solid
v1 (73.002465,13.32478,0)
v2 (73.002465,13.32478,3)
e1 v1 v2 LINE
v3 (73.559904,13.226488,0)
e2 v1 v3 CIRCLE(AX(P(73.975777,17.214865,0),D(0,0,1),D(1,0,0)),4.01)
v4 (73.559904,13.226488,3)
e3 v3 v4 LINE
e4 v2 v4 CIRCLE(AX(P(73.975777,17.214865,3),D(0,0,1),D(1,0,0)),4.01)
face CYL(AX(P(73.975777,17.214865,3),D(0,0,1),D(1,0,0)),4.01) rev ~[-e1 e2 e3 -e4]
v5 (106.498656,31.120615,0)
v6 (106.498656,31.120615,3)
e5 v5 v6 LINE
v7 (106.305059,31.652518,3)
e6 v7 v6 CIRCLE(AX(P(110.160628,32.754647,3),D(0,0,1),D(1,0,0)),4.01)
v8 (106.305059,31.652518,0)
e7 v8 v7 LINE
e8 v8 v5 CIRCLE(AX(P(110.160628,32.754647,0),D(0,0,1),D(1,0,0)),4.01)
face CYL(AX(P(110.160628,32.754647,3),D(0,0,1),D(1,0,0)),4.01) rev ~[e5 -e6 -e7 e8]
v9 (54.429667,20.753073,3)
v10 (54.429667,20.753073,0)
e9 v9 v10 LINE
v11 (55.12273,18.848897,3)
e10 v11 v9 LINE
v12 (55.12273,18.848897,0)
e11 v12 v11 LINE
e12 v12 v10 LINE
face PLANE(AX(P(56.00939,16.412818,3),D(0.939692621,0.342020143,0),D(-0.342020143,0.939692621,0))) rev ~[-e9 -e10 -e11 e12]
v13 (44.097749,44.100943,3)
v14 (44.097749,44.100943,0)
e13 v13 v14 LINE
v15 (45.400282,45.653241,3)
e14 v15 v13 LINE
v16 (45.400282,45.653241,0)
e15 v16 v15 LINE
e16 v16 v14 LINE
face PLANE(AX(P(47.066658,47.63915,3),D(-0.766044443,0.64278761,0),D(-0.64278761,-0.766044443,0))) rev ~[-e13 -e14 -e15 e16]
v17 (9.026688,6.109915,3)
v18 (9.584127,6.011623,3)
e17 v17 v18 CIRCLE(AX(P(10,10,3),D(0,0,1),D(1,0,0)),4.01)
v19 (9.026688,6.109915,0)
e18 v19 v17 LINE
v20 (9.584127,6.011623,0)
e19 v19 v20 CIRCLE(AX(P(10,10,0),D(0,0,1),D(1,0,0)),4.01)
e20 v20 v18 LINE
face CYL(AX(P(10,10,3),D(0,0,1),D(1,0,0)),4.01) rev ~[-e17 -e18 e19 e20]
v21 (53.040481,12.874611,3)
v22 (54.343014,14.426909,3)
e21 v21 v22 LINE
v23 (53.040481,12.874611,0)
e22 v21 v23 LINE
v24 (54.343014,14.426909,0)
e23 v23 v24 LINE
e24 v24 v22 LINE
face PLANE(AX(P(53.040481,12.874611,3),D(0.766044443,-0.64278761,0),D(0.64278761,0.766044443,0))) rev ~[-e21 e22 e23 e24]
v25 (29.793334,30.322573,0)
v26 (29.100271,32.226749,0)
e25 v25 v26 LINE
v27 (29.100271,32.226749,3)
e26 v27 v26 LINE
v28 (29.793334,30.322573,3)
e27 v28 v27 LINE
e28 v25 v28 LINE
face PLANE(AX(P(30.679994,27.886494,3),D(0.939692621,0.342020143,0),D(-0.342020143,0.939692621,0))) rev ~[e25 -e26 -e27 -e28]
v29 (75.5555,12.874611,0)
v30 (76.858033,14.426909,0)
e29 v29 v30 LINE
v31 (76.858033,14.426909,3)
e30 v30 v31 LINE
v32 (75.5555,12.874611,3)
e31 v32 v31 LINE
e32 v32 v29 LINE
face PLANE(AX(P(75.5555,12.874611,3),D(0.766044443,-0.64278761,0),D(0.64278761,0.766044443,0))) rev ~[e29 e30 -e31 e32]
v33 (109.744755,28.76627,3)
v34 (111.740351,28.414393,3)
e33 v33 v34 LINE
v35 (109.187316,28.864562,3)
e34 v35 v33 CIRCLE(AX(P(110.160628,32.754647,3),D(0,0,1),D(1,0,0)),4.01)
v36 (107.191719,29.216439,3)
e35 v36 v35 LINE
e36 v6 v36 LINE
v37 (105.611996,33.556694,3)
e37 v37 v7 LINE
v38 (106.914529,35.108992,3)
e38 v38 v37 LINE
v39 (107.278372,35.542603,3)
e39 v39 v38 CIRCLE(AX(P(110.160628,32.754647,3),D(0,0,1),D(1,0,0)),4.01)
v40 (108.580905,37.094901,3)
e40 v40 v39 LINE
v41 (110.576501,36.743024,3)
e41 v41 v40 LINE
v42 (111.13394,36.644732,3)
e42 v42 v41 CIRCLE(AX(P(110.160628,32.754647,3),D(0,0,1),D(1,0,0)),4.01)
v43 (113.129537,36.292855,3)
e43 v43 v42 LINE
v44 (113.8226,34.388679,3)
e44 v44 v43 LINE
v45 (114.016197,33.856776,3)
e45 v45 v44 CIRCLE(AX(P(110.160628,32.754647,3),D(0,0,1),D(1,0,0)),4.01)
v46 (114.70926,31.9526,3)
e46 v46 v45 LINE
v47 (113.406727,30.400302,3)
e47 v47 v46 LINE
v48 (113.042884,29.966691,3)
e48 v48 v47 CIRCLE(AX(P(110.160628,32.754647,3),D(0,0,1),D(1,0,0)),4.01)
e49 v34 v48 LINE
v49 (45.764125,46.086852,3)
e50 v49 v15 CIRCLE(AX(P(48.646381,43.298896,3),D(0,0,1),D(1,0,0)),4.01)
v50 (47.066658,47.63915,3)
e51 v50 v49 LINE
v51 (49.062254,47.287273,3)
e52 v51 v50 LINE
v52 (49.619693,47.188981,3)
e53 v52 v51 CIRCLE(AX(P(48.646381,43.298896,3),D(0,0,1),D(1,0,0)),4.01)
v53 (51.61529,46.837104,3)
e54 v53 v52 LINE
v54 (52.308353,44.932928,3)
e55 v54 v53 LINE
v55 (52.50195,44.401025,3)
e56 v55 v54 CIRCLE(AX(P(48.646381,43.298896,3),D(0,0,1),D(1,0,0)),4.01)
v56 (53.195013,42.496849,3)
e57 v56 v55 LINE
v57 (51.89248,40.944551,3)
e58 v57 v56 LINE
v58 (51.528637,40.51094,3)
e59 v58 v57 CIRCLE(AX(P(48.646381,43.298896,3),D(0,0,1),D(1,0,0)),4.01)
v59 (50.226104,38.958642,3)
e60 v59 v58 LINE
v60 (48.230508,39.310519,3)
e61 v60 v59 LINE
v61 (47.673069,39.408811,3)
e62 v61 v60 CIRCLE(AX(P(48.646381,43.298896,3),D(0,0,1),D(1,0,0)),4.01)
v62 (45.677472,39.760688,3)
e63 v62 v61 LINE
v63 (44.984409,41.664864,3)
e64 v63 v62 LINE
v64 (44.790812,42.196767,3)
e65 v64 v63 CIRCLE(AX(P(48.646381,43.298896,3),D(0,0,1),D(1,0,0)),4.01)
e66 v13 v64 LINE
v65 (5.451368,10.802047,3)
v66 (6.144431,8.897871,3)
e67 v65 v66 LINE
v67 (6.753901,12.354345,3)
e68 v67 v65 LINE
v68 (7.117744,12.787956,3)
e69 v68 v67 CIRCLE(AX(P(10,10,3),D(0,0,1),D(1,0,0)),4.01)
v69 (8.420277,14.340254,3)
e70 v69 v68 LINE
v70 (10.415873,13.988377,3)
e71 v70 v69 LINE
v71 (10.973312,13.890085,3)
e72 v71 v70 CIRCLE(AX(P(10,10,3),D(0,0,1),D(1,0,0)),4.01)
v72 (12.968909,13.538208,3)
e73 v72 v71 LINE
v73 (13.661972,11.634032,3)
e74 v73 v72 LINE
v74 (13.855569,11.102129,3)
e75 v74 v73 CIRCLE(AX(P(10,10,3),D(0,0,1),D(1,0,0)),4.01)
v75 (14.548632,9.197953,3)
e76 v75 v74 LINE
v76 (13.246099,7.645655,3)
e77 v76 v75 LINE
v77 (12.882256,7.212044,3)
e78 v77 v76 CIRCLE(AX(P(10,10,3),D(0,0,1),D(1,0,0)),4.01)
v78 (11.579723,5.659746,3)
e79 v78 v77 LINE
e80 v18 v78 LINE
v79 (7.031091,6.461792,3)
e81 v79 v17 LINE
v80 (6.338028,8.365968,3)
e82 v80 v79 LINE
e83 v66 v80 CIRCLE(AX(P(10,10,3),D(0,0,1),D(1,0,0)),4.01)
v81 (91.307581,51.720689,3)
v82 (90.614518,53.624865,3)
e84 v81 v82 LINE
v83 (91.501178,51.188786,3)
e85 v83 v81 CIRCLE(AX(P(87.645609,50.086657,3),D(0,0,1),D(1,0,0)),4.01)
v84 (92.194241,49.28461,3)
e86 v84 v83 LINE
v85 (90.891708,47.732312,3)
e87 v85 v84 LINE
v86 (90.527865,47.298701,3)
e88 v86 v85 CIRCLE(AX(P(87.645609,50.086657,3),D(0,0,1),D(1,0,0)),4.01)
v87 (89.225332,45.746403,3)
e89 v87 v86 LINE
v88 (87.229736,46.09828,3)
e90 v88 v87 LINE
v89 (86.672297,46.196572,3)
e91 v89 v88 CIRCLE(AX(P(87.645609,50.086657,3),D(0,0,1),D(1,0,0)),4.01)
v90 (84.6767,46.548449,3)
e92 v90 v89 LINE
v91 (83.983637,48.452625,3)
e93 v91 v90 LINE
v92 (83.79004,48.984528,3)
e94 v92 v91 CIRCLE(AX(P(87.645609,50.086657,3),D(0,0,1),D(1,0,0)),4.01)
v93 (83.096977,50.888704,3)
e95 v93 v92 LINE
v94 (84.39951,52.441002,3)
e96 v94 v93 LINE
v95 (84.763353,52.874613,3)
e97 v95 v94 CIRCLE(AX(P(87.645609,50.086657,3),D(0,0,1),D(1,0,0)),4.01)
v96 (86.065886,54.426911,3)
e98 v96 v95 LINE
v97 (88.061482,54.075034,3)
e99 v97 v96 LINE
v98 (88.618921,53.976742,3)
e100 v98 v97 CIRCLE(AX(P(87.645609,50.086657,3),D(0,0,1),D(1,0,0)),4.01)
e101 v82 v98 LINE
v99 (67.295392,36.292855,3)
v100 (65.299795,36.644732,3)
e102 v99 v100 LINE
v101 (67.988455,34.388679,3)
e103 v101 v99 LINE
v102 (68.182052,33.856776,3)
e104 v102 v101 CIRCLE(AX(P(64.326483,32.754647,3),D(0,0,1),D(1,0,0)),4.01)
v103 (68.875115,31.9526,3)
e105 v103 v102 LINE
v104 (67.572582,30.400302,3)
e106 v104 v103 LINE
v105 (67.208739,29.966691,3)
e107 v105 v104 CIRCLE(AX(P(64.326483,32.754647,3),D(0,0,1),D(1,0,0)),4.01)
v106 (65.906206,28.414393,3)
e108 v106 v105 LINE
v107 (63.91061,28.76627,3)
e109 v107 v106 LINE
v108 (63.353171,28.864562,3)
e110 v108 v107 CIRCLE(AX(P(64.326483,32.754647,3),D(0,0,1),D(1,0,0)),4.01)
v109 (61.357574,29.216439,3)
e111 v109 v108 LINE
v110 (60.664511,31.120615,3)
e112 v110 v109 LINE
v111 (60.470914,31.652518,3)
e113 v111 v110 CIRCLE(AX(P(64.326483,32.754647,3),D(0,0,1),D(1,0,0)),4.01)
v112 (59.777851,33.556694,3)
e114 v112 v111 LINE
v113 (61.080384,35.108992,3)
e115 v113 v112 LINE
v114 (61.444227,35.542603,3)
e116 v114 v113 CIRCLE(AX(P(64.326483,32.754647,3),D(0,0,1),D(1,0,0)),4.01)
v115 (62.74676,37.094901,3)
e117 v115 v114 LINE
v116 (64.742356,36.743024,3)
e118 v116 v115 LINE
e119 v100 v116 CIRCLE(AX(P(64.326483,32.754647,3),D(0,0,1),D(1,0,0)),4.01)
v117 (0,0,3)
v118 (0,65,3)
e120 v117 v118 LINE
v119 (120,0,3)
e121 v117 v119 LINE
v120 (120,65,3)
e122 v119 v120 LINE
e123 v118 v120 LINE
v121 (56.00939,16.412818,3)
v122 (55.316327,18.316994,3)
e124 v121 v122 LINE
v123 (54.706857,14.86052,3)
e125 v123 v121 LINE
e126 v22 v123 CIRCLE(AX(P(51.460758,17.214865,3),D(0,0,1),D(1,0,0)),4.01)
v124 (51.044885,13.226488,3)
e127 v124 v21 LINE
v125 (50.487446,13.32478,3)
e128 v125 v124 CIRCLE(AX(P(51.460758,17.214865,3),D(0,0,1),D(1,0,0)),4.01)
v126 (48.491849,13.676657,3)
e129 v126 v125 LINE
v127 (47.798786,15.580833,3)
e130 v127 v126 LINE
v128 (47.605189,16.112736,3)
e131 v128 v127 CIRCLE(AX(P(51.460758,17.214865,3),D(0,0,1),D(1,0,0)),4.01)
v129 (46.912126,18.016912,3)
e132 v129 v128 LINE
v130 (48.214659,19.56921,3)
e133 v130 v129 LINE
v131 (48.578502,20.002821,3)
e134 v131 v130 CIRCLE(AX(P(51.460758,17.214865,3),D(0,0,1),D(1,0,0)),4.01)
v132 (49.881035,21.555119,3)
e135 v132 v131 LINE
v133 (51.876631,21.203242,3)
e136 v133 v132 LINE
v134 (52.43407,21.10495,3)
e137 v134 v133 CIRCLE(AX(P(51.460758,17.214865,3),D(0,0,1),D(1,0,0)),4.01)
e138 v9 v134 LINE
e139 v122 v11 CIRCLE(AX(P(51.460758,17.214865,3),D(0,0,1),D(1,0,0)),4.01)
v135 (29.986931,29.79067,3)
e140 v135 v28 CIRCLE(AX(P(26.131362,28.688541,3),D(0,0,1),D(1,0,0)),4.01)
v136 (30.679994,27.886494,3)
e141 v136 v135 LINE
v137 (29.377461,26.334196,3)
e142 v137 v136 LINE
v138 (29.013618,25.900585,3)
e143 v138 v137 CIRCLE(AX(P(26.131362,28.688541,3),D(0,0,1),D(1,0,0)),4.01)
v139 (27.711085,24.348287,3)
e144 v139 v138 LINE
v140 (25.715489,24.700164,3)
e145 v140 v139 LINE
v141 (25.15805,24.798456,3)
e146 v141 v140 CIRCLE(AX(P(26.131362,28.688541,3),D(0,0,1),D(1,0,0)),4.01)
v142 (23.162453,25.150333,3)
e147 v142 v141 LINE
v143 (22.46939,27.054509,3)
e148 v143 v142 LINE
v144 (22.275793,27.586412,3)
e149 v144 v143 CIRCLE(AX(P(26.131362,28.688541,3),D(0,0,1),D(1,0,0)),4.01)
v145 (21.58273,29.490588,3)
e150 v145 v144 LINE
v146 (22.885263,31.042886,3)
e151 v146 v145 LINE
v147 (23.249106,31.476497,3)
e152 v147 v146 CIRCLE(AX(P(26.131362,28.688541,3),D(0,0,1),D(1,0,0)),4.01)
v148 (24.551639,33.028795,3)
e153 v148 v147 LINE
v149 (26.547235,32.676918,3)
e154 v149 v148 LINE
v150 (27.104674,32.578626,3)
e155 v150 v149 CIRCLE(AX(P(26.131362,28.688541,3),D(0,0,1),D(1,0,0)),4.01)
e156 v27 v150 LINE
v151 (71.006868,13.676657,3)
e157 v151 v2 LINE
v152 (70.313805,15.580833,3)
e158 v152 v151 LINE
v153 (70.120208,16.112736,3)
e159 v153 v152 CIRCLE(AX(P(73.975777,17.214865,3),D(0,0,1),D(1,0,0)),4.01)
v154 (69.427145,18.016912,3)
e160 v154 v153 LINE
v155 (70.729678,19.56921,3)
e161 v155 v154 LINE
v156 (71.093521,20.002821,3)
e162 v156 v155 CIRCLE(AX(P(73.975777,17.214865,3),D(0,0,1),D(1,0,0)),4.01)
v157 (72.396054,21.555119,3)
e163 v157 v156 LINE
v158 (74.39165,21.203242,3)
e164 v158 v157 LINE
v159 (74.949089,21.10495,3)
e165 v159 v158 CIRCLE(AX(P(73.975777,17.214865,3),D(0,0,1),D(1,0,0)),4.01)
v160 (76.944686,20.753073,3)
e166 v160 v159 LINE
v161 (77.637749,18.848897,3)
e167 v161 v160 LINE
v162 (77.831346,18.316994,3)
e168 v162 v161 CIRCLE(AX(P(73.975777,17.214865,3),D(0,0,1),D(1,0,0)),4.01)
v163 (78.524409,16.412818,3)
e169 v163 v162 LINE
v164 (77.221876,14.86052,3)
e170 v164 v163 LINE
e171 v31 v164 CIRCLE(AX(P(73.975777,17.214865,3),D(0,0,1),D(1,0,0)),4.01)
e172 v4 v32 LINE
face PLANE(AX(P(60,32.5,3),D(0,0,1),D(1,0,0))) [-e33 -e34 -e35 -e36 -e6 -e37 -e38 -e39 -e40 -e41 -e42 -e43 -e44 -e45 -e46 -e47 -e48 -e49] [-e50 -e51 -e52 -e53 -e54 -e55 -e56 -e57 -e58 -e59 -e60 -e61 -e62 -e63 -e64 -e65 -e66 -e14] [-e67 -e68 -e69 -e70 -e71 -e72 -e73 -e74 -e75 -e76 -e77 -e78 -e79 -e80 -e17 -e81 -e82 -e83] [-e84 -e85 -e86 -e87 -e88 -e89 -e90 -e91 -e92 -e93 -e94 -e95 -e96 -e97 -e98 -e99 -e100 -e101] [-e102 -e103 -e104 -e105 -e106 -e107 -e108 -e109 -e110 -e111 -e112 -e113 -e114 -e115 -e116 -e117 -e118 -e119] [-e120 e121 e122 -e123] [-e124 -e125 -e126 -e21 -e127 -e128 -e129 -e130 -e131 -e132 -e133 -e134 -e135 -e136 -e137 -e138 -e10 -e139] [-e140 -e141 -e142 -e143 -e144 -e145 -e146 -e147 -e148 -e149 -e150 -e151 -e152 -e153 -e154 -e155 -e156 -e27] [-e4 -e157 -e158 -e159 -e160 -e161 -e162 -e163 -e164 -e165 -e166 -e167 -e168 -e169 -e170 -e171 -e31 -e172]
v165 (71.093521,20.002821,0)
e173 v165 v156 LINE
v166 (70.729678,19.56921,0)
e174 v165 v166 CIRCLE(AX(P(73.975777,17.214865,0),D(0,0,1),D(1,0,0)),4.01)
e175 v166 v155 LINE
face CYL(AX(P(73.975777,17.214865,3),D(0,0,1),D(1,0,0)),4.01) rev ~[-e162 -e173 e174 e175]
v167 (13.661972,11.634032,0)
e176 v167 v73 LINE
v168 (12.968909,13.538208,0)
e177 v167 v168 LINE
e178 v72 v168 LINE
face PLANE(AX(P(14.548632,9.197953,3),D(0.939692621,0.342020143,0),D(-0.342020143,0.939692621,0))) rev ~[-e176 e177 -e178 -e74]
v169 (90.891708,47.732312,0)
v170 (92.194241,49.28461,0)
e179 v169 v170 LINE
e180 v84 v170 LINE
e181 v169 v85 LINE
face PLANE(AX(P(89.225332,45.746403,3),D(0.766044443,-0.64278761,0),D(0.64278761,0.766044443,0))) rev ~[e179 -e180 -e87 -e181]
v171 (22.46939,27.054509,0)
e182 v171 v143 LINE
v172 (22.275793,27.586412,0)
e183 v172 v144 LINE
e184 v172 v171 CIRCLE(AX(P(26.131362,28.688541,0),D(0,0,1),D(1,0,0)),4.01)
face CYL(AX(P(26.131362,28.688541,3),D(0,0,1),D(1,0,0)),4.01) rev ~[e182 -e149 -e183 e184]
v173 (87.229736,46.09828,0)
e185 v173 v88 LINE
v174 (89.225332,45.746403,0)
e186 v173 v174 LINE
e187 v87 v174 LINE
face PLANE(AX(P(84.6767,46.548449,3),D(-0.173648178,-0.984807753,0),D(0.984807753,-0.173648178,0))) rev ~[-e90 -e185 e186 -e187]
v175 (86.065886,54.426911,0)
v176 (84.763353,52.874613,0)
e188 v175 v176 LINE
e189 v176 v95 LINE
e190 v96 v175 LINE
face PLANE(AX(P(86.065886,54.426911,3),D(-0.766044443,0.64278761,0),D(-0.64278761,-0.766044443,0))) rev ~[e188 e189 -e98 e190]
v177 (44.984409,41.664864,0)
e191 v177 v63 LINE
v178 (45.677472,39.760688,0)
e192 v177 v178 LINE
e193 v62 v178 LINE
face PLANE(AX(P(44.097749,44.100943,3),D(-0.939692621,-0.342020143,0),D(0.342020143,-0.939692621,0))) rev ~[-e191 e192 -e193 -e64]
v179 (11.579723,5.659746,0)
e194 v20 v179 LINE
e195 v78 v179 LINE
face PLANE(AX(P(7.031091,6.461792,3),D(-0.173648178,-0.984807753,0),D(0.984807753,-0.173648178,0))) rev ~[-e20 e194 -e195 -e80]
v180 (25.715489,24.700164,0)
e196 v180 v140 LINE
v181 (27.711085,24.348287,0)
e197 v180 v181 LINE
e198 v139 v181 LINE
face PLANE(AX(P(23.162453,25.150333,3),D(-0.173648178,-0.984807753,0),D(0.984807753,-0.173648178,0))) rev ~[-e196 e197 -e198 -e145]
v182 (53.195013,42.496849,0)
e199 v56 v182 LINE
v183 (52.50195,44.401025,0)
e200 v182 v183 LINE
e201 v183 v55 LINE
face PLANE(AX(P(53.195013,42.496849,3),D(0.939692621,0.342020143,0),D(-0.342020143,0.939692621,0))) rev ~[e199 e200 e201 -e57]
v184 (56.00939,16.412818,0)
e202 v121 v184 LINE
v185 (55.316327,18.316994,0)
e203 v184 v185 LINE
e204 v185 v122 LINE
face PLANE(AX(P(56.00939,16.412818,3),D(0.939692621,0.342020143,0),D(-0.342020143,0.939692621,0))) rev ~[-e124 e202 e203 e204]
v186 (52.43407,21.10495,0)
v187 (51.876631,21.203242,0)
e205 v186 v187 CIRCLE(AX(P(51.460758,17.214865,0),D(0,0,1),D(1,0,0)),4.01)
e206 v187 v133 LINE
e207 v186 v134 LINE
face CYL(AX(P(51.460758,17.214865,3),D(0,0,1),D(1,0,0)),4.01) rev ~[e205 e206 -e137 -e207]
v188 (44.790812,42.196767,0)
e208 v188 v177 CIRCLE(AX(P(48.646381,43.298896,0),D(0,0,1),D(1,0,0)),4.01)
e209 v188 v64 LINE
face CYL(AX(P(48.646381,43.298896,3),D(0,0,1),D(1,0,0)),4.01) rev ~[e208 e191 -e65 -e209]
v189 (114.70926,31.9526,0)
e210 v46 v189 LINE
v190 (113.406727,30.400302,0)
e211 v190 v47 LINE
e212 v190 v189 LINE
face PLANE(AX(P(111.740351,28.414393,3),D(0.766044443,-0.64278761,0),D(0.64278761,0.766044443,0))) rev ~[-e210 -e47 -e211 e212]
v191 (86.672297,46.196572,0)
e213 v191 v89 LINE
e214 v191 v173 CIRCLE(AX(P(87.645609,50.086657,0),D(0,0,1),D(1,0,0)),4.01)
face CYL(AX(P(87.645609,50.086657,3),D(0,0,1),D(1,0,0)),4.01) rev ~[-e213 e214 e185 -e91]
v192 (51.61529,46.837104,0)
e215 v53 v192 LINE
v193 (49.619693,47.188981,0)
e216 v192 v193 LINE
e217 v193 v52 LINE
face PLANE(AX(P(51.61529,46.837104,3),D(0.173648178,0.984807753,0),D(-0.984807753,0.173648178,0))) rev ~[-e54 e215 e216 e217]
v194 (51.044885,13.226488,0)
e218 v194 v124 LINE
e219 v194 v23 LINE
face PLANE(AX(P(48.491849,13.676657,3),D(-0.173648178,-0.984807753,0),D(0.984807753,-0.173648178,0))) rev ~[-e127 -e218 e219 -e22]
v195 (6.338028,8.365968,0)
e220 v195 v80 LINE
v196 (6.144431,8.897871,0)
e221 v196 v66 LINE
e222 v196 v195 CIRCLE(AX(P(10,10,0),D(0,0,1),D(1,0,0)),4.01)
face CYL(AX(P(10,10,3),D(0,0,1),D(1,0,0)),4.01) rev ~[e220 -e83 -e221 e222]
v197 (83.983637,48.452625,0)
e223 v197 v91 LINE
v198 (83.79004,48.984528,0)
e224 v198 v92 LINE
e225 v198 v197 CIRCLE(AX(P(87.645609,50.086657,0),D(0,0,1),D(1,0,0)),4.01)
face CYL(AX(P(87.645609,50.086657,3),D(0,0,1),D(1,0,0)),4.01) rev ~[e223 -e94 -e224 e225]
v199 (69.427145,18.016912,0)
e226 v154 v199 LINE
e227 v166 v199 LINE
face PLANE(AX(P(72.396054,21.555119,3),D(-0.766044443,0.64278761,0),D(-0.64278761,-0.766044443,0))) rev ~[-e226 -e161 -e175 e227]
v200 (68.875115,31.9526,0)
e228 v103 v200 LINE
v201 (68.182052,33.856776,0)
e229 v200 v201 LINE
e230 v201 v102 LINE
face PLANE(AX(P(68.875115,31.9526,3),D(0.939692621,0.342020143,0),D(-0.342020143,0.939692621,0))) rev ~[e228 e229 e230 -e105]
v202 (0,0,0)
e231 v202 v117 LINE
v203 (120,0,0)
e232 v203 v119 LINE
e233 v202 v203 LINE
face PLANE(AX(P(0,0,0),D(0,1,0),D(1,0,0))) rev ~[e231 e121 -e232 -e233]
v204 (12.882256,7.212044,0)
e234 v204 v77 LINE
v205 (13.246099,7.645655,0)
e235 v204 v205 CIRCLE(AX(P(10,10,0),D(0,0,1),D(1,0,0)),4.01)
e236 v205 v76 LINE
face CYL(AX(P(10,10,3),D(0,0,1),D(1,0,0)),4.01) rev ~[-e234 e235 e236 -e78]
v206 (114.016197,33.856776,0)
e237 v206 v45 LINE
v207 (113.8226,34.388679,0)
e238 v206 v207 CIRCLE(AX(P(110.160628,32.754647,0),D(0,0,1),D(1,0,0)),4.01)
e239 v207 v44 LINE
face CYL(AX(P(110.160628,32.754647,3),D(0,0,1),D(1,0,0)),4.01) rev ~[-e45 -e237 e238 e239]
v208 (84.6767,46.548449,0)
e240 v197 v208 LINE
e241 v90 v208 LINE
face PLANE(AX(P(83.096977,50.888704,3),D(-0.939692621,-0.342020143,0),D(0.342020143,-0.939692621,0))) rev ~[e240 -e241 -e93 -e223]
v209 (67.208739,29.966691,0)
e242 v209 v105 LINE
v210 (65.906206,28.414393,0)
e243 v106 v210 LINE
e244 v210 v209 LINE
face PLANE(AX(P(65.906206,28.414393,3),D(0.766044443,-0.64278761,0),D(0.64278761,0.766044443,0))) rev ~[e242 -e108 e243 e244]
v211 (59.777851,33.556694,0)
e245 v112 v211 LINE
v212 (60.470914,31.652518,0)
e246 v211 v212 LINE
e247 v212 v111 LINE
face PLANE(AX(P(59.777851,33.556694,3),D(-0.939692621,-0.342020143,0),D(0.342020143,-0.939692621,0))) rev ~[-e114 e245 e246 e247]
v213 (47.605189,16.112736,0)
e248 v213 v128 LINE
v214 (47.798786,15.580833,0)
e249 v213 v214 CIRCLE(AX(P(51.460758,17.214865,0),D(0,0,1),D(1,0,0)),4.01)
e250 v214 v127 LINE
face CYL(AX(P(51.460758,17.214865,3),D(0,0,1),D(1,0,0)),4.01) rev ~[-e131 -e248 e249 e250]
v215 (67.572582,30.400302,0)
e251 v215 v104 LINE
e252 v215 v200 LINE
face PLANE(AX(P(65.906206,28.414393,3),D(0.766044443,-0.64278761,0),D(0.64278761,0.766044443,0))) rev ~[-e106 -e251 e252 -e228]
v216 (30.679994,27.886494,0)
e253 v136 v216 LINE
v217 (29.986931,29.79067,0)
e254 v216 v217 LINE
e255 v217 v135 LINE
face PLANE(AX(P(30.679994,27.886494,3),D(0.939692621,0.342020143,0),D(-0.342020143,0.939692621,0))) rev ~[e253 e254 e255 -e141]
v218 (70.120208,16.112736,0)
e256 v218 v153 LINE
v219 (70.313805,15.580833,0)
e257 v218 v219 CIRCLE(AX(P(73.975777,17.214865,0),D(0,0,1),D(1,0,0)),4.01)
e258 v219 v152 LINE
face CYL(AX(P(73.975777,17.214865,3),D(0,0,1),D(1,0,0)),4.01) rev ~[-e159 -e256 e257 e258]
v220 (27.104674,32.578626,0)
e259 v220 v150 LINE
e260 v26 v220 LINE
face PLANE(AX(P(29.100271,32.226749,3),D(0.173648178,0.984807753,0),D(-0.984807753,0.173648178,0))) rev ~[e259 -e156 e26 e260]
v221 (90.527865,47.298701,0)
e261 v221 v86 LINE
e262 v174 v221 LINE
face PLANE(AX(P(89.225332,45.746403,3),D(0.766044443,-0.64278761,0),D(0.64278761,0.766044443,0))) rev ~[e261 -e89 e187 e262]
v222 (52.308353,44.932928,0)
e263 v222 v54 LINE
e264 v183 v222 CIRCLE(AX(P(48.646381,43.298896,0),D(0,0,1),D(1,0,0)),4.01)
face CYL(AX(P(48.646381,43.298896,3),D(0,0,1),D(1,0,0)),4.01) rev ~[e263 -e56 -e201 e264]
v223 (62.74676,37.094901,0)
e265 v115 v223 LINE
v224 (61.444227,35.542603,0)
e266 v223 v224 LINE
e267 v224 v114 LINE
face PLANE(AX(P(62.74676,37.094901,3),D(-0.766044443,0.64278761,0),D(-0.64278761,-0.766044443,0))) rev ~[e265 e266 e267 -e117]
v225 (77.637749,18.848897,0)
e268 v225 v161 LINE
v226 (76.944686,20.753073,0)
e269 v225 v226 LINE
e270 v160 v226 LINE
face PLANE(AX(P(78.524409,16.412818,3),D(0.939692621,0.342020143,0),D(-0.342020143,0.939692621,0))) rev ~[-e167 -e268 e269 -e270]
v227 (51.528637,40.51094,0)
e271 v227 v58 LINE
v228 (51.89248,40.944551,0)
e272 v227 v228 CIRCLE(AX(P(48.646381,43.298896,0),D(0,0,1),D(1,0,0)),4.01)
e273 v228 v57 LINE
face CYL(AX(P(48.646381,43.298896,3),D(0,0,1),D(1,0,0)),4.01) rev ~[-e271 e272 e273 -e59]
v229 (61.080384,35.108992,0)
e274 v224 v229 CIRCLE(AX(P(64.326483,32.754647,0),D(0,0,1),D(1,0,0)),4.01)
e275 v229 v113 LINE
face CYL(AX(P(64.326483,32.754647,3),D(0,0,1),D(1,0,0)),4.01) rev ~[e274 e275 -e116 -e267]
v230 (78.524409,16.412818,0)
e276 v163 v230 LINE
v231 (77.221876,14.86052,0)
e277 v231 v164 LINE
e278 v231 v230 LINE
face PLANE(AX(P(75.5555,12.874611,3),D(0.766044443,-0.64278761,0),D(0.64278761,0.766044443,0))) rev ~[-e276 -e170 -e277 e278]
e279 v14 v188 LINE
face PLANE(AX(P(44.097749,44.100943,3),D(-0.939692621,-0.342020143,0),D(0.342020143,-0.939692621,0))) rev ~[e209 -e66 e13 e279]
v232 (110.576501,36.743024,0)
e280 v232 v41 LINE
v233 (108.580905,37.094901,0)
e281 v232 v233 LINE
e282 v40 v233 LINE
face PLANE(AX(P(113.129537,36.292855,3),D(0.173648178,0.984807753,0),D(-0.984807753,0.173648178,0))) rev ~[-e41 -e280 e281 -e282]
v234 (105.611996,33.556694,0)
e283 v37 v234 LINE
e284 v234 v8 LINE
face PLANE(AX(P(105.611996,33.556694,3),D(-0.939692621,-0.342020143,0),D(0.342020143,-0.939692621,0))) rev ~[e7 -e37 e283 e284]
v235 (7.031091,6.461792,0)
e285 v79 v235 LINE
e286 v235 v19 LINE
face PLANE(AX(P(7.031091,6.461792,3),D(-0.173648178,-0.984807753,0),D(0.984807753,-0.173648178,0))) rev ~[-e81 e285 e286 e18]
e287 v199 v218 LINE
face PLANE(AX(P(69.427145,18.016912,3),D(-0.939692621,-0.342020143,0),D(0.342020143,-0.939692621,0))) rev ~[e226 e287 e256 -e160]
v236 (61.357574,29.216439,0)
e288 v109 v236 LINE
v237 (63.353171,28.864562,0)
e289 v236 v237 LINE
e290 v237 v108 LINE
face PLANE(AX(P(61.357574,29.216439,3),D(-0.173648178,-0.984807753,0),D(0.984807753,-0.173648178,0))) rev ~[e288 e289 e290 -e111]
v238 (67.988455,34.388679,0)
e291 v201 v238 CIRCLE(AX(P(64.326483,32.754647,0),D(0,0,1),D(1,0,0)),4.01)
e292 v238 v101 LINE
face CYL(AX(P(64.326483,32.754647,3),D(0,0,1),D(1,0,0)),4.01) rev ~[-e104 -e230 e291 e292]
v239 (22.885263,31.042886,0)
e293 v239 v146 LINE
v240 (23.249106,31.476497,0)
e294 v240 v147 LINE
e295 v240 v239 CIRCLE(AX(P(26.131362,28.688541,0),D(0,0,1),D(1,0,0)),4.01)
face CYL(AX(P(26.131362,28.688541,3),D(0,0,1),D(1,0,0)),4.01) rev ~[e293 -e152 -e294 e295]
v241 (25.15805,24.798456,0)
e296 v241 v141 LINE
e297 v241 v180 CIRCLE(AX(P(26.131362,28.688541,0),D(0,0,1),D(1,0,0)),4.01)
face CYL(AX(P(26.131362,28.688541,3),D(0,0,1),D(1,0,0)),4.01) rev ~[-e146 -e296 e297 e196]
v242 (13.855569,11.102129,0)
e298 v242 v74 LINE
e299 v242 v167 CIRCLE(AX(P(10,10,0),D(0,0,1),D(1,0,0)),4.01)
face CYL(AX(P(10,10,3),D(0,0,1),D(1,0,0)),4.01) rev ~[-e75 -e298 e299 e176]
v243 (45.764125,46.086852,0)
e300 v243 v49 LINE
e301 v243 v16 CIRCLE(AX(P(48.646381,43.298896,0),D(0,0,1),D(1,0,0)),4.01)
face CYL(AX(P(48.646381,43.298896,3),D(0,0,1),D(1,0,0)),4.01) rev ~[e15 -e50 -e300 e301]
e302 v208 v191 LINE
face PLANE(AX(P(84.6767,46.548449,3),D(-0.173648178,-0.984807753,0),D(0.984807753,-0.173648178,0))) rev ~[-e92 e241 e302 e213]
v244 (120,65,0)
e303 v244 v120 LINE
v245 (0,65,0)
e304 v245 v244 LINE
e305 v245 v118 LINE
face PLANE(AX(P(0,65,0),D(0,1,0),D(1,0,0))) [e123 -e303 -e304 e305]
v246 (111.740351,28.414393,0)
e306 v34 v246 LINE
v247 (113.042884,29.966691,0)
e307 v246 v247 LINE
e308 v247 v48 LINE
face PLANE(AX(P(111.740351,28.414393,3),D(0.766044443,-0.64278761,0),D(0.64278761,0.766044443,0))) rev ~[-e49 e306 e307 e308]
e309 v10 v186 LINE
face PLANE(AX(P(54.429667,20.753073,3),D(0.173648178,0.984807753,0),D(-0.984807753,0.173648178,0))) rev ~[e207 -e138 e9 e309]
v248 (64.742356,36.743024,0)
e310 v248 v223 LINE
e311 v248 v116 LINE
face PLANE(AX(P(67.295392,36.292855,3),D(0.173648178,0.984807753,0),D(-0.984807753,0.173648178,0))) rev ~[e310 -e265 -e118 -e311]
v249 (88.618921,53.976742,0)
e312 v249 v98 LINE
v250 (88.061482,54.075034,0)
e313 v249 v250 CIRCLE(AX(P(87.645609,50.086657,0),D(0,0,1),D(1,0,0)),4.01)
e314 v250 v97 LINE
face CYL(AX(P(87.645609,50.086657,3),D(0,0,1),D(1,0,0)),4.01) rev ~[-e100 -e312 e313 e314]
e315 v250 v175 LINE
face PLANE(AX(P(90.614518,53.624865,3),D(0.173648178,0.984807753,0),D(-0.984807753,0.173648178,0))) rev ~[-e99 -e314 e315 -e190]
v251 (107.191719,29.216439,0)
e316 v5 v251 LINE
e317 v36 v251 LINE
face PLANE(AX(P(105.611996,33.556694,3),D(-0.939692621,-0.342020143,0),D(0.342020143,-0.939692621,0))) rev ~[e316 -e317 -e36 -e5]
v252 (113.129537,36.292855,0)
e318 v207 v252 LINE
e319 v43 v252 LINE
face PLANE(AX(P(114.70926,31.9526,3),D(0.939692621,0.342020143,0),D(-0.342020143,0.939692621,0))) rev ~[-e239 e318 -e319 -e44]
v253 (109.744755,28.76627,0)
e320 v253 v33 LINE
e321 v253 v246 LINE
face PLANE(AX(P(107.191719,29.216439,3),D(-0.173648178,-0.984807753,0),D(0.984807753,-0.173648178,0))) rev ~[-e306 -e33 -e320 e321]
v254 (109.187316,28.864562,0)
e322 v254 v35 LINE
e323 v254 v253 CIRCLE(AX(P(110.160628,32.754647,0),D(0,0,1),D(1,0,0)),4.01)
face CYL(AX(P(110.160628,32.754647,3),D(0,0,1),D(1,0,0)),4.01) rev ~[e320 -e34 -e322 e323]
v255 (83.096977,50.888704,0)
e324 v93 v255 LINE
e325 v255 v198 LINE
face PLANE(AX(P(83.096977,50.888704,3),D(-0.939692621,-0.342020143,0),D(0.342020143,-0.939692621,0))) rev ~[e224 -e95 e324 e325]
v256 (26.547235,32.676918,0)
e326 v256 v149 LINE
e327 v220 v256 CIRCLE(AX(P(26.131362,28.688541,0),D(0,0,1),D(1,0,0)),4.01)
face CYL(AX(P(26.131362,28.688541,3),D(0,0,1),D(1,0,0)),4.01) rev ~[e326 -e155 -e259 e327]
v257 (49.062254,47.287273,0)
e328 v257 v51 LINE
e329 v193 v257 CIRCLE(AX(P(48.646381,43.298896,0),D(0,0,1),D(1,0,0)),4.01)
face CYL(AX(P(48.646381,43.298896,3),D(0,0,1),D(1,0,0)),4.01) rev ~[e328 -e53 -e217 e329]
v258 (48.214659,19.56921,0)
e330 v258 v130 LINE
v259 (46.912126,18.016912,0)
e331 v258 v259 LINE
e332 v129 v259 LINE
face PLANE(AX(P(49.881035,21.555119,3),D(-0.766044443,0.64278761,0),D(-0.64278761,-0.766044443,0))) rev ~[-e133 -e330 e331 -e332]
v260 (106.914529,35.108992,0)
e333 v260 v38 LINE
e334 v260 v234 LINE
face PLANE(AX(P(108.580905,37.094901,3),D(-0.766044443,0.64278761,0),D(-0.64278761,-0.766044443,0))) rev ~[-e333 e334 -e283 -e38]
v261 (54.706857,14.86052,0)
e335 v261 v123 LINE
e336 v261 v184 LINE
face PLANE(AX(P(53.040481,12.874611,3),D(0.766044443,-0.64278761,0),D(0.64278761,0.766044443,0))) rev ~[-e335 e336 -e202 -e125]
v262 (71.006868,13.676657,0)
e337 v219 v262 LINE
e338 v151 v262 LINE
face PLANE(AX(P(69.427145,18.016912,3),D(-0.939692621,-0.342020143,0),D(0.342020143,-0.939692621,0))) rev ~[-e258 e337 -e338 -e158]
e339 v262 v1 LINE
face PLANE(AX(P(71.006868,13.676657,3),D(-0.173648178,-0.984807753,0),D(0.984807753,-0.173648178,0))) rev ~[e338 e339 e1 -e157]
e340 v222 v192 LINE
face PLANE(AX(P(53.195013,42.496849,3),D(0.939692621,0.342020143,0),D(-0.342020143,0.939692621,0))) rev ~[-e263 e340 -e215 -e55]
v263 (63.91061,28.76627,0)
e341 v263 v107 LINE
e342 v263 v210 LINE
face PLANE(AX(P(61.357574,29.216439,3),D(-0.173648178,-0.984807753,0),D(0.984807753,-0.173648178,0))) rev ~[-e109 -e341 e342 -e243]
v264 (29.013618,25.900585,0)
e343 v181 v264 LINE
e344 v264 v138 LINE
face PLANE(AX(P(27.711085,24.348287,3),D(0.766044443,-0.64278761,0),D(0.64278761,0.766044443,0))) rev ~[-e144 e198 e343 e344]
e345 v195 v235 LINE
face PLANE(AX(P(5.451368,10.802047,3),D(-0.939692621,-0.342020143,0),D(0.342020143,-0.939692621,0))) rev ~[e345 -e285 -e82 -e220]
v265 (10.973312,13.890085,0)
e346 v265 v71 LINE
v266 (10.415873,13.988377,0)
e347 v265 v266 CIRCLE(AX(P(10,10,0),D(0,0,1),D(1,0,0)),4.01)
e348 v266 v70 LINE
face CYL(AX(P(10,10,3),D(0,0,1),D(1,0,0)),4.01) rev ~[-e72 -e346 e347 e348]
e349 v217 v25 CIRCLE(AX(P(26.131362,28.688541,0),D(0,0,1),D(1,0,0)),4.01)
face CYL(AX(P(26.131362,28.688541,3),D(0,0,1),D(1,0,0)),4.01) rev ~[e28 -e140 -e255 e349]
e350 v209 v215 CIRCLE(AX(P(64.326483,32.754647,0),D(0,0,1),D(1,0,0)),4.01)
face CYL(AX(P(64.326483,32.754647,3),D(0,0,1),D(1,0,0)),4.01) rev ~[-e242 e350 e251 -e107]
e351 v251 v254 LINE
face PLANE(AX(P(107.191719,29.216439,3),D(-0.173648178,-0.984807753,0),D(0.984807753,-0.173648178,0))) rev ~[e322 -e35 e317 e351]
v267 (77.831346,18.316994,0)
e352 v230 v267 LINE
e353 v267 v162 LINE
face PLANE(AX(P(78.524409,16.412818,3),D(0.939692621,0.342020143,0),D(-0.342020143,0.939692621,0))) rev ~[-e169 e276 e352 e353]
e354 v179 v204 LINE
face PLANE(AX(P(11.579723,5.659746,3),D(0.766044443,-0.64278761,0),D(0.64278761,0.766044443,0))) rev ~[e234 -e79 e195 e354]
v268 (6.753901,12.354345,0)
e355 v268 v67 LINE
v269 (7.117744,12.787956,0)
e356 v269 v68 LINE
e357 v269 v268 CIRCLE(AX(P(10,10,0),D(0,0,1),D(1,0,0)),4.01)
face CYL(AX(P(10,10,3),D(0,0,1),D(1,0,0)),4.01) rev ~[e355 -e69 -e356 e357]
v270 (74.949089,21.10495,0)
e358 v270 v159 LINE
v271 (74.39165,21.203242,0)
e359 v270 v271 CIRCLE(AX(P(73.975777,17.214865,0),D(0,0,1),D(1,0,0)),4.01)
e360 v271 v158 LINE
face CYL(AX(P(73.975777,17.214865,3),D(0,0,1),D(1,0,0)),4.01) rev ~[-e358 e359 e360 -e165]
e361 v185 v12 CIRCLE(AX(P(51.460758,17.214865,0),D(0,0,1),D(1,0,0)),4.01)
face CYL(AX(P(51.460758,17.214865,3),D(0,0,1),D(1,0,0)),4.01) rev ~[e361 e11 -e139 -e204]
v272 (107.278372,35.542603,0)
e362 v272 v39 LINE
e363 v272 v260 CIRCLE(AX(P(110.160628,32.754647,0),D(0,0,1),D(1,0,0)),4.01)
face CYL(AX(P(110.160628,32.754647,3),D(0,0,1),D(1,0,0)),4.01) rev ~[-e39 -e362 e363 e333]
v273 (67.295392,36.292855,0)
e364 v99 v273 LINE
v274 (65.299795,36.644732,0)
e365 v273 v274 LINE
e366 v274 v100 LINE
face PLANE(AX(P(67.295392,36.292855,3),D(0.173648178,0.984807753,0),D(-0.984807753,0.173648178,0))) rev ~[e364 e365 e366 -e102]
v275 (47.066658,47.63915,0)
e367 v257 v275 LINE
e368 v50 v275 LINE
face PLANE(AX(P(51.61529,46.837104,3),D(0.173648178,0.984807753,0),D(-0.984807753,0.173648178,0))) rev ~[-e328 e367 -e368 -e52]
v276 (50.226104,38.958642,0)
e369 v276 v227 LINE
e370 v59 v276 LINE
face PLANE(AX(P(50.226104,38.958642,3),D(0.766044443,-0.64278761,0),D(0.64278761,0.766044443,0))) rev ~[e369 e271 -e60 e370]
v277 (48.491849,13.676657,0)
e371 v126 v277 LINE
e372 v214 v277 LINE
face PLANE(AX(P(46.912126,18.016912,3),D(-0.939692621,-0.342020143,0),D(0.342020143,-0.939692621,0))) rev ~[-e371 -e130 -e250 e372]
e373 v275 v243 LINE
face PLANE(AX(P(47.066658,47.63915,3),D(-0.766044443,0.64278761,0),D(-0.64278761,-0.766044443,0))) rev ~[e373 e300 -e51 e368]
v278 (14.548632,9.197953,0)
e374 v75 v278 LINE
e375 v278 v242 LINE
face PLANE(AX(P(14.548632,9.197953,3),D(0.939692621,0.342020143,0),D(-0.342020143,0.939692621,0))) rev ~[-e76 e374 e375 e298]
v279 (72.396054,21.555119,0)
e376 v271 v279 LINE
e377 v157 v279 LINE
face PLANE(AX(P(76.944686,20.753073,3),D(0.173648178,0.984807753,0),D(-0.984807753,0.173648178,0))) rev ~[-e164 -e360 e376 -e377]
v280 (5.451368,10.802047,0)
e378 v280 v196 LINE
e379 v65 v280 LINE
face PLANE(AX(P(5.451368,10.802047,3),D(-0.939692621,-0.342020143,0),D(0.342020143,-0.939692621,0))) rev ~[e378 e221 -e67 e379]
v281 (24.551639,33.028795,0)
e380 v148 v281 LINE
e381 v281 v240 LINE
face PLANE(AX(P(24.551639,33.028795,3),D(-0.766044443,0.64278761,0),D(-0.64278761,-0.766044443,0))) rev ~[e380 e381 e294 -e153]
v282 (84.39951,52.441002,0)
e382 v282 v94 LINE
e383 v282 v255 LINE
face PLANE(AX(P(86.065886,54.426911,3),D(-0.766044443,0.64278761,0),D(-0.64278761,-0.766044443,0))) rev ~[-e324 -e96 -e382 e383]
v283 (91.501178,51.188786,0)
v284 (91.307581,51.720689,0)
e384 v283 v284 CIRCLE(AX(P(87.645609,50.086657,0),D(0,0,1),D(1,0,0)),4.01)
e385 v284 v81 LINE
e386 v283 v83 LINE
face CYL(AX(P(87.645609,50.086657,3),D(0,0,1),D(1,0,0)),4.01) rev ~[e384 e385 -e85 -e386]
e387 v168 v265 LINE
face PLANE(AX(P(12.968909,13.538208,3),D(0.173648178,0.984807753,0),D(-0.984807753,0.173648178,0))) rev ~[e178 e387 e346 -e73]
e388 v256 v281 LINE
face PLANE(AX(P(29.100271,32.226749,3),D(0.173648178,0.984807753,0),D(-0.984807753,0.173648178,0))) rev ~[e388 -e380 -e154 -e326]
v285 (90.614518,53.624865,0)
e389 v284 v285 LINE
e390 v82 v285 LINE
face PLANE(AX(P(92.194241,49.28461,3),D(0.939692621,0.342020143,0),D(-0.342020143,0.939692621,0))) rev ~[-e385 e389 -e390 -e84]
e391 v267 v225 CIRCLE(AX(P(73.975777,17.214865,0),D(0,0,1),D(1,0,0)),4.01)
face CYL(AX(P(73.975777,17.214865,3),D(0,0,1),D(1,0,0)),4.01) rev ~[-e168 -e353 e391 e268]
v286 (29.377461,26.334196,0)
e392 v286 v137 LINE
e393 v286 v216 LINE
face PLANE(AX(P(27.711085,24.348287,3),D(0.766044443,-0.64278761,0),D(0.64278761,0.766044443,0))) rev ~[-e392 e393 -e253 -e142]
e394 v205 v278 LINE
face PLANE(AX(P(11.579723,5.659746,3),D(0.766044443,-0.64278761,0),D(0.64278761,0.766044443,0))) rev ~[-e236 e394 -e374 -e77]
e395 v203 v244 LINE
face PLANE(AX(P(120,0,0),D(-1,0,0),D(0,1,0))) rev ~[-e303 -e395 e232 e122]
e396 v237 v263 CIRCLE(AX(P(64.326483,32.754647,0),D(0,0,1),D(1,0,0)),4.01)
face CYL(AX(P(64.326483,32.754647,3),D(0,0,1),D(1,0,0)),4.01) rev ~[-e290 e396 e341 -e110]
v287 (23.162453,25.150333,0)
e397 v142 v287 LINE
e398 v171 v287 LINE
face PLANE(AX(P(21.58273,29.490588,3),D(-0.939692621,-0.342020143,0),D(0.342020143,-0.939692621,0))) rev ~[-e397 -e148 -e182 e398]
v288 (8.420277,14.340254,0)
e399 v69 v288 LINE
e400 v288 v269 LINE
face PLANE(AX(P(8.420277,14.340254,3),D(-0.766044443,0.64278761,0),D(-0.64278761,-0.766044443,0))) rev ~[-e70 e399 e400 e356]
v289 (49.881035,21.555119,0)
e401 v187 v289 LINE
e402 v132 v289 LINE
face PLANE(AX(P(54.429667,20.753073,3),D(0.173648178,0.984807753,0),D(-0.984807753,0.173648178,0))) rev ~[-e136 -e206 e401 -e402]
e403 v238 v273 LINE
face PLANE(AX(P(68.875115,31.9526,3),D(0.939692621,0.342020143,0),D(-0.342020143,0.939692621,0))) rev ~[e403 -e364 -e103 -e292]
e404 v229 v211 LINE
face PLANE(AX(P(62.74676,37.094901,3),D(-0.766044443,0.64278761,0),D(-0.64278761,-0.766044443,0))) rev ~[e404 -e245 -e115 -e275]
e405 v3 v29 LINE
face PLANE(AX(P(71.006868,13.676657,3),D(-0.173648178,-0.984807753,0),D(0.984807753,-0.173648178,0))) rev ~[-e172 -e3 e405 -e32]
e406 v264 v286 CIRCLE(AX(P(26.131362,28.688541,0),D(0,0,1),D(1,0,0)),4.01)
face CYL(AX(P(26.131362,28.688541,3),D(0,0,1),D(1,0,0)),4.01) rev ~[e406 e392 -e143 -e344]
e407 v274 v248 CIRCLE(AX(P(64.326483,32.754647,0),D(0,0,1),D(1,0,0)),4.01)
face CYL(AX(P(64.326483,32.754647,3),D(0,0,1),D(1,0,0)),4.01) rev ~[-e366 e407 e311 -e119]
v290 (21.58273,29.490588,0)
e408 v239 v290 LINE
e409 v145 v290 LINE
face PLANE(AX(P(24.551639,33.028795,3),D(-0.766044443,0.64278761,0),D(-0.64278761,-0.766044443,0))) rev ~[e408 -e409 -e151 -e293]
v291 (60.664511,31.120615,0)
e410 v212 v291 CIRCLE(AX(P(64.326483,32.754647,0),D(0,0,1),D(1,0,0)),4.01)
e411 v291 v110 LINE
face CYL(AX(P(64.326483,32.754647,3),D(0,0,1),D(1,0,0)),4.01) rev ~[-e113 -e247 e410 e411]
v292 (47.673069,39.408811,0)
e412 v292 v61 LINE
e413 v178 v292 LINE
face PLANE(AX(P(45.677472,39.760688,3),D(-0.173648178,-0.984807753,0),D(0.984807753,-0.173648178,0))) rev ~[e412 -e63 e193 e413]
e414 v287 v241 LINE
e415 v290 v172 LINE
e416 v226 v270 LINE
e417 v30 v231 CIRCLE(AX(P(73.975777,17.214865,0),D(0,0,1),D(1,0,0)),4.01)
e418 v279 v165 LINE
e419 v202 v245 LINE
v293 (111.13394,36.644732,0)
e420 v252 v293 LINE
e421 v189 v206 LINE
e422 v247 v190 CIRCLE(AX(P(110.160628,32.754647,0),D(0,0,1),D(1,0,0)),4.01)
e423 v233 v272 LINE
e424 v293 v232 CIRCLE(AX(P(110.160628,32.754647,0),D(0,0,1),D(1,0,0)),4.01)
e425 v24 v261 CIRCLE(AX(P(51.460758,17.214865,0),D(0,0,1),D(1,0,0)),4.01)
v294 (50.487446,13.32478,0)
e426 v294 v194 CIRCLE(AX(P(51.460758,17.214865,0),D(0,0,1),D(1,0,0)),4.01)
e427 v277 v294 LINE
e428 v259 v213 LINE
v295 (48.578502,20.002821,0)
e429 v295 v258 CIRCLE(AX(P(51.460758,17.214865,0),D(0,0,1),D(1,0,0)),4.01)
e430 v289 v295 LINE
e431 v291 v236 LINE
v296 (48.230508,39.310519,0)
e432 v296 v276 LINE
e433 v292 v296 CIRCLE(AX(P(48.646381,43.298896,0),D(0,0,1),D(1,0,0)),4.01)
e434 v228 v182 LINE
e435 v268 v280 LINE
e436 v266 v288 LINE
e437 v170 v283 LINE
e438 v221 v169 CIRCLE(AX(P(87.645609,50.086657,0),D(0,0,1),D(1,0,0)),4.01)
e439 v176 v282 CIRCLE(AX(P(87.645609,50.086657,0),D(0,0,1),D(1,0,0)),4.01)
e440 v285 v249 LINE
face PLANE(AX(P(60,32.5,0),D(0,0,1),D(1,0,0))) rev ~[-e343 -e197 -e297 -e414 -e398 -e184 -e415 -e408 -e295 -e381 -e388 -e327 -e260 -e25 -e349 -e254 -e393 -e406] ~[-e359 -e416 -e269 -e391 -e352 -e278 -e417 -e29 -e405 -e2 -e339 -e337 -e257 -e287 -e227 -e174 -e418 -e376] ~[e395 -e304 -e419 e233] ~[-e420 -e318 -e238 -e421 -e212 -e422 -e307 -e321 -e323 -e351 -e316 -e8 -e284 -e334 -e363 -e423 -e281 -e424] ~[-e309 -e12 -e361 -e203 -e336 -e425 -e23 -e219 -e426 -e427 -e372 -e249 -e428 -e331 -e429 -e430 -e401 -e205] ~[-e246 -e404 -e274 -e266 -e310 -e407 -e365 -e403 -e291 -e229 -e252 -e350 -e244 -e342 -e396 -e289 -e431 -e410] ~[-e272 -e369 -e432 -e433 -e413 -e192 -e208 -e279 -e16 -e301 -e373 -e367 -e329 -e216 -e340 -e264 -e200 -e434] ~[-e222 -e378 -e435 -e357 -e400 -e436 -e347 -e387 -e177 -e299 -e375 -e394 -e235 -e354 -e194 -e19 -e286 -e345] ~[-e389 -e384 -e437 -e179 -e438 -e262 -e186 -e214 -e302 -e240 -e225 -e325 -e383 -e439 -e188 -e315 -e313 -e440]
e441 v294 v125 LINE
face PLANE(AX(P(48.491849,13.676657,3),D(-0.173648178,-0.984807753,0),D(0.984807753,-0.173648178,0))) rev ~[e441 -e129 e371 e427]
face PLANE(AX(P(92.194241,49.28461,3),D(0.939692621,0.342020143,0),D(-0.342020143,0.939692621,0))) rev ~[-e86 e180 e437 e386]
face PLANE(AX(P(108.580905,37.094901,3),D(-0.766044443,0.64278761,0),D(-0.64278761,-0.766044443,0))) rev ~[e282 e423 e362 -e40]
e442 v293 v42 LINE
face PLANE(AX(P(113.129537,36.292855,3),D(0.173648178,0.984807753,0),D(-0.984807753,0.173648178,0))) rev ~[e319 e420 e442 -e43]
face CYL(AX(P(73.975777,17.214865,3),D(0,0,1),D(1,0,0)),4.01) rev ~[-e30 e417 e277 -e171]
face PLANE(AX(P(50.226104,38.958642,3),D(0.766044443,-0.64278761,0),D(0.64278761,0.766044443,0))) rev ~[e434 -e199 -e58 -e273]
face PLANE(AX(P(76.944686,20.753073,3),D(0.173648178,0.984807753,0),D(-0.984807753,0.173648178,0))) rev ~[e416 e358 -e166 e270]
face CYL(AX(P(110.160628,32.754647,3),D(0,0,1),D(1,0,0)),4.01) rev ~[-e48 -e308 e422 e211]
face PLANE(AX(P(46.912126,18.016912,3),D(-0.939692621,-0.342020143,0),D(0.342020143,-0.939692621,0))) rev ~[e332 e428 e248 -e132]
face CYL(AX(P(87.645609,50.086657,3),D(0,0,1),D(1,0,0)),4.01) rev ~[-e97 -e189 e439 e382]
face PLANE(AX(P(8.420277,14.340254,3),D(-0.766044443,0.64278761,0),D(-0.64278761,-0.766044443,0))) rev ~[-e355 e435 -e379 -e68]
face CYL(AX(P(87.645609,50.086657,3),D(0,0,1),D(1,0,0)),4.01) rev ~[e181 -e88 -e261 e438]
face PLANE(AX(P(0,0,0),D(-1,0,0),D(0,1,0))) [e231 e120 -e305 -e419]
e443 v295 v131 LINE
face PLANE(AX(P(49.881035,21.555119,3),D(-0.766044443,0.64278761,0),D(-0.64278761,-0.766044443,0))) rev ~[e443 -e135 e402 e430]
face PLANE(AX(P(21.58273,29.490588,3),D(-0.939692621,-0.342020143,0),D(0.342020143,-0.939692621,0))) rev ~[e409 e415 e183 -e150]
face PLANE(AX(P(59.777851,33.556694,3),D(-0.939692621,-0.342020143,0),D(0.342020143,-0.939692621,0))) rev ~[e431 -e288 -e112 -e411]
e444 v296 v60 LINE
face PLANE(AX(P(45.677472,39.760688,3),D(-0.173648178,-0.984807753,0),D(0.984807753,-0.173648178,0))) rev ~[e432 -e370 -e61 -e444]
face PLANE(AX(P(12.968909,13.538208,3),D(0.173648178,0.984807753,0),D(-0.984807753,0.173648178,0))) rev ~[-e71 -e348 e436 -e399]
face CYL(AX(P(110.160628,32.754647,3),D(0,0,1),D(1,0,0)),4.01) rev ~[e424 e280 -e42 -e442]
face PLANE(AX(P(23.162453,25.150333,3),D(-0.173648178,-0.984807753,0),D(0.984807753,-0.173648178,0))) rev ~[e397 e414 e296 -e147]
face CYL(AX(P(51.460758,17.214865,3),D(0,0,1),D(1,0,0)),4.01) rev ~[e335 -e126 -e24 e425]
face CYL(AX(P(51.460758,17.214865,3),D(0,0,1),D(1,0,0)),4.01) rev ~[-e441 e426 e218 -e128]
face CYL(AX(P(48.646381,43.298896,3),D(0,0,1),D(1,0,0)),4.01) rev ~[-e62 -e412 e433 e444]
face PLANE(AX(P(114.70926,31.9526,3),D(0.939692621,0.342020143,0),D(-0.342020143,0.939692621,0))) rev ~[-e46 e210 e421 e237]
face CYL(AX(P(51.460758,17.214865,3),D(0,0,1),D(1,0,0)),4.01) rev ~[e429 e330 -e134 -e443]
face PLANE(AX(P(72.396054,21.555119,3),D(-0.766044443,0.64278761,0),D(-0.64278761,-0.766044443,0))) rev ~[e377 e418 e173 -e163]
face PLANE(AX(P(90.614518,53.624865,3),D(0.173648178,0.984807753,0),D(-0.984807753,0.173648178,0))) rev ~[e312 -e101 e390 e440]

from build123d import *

# Parameters (mm, degrees)
SKIZZE1_W                       = 120
SKIZZE1_H                       = 65
AUFSATZ_LINEAR_AUSTRAGEN1_DEPTH = 3
SECHSKANT_DEPTH                 = 4
SKIZZE3_R                       = 4.01
ZYLINDERBOHRUNG_DEPTH           = 4


with BuildPart() as part:
    # Skizze1 → Aufsatz-Linear austragen1 (new body)
    with BuildSketch(Plane.XY):
        with Locations((60, 32.5)):
            Rectangle(SKIZZE1_W, SKIZZE1_H)
    extrude(amount=AUFSATZ_LINEAR_AUSTRAGEN1_DEPTH)

    # Skizze2 → Sechskant (cut, through all)
    with BuildSketch(Plane.XY.offset(3)):
        Polygon((12.968908796, 13.538207724), (8.420276625, 14.340254301), (5.45136783, 10.802046577), (7.031091204, 6.461792276), (11.579723375, 5.659745699), (14.54863217, 9.197953423), align=None)
    sechskant = extrude(amount=-SECHSKANT_DEPTH, mode=Mode.SUBTRACT)

    # Skizze3 → Zylinderbohrung (cut, through all)
    with BuildSketch(Plane.XY.offset(3)):
        with Locations((10, 10)):
            Circle(SKIZZE3_R)
    zylinderbohrung = extrude(amount=-ZYLINDERBOHRUNG_DEPTH, mode=Mode.SUBTRACT)

    # Skizzen-Muster1: Sechskant, Zylinderbohrung at 7 more places
    with Locations((16.131362, 18.688541, 0), (38.646381, 33.298896, 0), (63.975777, 7.214865, 0), (77.645609, 40.086657, 0), (100.160628, 22.754647, 0), (41.460758, 7.214865, 0), (54.326483, 22.754647, 0)):
        add(sechskant, mode=Mode.SUBTRACT)
        add(zylinderbohrung, mode=Mode.SUBTRACT)


solid = part.part
